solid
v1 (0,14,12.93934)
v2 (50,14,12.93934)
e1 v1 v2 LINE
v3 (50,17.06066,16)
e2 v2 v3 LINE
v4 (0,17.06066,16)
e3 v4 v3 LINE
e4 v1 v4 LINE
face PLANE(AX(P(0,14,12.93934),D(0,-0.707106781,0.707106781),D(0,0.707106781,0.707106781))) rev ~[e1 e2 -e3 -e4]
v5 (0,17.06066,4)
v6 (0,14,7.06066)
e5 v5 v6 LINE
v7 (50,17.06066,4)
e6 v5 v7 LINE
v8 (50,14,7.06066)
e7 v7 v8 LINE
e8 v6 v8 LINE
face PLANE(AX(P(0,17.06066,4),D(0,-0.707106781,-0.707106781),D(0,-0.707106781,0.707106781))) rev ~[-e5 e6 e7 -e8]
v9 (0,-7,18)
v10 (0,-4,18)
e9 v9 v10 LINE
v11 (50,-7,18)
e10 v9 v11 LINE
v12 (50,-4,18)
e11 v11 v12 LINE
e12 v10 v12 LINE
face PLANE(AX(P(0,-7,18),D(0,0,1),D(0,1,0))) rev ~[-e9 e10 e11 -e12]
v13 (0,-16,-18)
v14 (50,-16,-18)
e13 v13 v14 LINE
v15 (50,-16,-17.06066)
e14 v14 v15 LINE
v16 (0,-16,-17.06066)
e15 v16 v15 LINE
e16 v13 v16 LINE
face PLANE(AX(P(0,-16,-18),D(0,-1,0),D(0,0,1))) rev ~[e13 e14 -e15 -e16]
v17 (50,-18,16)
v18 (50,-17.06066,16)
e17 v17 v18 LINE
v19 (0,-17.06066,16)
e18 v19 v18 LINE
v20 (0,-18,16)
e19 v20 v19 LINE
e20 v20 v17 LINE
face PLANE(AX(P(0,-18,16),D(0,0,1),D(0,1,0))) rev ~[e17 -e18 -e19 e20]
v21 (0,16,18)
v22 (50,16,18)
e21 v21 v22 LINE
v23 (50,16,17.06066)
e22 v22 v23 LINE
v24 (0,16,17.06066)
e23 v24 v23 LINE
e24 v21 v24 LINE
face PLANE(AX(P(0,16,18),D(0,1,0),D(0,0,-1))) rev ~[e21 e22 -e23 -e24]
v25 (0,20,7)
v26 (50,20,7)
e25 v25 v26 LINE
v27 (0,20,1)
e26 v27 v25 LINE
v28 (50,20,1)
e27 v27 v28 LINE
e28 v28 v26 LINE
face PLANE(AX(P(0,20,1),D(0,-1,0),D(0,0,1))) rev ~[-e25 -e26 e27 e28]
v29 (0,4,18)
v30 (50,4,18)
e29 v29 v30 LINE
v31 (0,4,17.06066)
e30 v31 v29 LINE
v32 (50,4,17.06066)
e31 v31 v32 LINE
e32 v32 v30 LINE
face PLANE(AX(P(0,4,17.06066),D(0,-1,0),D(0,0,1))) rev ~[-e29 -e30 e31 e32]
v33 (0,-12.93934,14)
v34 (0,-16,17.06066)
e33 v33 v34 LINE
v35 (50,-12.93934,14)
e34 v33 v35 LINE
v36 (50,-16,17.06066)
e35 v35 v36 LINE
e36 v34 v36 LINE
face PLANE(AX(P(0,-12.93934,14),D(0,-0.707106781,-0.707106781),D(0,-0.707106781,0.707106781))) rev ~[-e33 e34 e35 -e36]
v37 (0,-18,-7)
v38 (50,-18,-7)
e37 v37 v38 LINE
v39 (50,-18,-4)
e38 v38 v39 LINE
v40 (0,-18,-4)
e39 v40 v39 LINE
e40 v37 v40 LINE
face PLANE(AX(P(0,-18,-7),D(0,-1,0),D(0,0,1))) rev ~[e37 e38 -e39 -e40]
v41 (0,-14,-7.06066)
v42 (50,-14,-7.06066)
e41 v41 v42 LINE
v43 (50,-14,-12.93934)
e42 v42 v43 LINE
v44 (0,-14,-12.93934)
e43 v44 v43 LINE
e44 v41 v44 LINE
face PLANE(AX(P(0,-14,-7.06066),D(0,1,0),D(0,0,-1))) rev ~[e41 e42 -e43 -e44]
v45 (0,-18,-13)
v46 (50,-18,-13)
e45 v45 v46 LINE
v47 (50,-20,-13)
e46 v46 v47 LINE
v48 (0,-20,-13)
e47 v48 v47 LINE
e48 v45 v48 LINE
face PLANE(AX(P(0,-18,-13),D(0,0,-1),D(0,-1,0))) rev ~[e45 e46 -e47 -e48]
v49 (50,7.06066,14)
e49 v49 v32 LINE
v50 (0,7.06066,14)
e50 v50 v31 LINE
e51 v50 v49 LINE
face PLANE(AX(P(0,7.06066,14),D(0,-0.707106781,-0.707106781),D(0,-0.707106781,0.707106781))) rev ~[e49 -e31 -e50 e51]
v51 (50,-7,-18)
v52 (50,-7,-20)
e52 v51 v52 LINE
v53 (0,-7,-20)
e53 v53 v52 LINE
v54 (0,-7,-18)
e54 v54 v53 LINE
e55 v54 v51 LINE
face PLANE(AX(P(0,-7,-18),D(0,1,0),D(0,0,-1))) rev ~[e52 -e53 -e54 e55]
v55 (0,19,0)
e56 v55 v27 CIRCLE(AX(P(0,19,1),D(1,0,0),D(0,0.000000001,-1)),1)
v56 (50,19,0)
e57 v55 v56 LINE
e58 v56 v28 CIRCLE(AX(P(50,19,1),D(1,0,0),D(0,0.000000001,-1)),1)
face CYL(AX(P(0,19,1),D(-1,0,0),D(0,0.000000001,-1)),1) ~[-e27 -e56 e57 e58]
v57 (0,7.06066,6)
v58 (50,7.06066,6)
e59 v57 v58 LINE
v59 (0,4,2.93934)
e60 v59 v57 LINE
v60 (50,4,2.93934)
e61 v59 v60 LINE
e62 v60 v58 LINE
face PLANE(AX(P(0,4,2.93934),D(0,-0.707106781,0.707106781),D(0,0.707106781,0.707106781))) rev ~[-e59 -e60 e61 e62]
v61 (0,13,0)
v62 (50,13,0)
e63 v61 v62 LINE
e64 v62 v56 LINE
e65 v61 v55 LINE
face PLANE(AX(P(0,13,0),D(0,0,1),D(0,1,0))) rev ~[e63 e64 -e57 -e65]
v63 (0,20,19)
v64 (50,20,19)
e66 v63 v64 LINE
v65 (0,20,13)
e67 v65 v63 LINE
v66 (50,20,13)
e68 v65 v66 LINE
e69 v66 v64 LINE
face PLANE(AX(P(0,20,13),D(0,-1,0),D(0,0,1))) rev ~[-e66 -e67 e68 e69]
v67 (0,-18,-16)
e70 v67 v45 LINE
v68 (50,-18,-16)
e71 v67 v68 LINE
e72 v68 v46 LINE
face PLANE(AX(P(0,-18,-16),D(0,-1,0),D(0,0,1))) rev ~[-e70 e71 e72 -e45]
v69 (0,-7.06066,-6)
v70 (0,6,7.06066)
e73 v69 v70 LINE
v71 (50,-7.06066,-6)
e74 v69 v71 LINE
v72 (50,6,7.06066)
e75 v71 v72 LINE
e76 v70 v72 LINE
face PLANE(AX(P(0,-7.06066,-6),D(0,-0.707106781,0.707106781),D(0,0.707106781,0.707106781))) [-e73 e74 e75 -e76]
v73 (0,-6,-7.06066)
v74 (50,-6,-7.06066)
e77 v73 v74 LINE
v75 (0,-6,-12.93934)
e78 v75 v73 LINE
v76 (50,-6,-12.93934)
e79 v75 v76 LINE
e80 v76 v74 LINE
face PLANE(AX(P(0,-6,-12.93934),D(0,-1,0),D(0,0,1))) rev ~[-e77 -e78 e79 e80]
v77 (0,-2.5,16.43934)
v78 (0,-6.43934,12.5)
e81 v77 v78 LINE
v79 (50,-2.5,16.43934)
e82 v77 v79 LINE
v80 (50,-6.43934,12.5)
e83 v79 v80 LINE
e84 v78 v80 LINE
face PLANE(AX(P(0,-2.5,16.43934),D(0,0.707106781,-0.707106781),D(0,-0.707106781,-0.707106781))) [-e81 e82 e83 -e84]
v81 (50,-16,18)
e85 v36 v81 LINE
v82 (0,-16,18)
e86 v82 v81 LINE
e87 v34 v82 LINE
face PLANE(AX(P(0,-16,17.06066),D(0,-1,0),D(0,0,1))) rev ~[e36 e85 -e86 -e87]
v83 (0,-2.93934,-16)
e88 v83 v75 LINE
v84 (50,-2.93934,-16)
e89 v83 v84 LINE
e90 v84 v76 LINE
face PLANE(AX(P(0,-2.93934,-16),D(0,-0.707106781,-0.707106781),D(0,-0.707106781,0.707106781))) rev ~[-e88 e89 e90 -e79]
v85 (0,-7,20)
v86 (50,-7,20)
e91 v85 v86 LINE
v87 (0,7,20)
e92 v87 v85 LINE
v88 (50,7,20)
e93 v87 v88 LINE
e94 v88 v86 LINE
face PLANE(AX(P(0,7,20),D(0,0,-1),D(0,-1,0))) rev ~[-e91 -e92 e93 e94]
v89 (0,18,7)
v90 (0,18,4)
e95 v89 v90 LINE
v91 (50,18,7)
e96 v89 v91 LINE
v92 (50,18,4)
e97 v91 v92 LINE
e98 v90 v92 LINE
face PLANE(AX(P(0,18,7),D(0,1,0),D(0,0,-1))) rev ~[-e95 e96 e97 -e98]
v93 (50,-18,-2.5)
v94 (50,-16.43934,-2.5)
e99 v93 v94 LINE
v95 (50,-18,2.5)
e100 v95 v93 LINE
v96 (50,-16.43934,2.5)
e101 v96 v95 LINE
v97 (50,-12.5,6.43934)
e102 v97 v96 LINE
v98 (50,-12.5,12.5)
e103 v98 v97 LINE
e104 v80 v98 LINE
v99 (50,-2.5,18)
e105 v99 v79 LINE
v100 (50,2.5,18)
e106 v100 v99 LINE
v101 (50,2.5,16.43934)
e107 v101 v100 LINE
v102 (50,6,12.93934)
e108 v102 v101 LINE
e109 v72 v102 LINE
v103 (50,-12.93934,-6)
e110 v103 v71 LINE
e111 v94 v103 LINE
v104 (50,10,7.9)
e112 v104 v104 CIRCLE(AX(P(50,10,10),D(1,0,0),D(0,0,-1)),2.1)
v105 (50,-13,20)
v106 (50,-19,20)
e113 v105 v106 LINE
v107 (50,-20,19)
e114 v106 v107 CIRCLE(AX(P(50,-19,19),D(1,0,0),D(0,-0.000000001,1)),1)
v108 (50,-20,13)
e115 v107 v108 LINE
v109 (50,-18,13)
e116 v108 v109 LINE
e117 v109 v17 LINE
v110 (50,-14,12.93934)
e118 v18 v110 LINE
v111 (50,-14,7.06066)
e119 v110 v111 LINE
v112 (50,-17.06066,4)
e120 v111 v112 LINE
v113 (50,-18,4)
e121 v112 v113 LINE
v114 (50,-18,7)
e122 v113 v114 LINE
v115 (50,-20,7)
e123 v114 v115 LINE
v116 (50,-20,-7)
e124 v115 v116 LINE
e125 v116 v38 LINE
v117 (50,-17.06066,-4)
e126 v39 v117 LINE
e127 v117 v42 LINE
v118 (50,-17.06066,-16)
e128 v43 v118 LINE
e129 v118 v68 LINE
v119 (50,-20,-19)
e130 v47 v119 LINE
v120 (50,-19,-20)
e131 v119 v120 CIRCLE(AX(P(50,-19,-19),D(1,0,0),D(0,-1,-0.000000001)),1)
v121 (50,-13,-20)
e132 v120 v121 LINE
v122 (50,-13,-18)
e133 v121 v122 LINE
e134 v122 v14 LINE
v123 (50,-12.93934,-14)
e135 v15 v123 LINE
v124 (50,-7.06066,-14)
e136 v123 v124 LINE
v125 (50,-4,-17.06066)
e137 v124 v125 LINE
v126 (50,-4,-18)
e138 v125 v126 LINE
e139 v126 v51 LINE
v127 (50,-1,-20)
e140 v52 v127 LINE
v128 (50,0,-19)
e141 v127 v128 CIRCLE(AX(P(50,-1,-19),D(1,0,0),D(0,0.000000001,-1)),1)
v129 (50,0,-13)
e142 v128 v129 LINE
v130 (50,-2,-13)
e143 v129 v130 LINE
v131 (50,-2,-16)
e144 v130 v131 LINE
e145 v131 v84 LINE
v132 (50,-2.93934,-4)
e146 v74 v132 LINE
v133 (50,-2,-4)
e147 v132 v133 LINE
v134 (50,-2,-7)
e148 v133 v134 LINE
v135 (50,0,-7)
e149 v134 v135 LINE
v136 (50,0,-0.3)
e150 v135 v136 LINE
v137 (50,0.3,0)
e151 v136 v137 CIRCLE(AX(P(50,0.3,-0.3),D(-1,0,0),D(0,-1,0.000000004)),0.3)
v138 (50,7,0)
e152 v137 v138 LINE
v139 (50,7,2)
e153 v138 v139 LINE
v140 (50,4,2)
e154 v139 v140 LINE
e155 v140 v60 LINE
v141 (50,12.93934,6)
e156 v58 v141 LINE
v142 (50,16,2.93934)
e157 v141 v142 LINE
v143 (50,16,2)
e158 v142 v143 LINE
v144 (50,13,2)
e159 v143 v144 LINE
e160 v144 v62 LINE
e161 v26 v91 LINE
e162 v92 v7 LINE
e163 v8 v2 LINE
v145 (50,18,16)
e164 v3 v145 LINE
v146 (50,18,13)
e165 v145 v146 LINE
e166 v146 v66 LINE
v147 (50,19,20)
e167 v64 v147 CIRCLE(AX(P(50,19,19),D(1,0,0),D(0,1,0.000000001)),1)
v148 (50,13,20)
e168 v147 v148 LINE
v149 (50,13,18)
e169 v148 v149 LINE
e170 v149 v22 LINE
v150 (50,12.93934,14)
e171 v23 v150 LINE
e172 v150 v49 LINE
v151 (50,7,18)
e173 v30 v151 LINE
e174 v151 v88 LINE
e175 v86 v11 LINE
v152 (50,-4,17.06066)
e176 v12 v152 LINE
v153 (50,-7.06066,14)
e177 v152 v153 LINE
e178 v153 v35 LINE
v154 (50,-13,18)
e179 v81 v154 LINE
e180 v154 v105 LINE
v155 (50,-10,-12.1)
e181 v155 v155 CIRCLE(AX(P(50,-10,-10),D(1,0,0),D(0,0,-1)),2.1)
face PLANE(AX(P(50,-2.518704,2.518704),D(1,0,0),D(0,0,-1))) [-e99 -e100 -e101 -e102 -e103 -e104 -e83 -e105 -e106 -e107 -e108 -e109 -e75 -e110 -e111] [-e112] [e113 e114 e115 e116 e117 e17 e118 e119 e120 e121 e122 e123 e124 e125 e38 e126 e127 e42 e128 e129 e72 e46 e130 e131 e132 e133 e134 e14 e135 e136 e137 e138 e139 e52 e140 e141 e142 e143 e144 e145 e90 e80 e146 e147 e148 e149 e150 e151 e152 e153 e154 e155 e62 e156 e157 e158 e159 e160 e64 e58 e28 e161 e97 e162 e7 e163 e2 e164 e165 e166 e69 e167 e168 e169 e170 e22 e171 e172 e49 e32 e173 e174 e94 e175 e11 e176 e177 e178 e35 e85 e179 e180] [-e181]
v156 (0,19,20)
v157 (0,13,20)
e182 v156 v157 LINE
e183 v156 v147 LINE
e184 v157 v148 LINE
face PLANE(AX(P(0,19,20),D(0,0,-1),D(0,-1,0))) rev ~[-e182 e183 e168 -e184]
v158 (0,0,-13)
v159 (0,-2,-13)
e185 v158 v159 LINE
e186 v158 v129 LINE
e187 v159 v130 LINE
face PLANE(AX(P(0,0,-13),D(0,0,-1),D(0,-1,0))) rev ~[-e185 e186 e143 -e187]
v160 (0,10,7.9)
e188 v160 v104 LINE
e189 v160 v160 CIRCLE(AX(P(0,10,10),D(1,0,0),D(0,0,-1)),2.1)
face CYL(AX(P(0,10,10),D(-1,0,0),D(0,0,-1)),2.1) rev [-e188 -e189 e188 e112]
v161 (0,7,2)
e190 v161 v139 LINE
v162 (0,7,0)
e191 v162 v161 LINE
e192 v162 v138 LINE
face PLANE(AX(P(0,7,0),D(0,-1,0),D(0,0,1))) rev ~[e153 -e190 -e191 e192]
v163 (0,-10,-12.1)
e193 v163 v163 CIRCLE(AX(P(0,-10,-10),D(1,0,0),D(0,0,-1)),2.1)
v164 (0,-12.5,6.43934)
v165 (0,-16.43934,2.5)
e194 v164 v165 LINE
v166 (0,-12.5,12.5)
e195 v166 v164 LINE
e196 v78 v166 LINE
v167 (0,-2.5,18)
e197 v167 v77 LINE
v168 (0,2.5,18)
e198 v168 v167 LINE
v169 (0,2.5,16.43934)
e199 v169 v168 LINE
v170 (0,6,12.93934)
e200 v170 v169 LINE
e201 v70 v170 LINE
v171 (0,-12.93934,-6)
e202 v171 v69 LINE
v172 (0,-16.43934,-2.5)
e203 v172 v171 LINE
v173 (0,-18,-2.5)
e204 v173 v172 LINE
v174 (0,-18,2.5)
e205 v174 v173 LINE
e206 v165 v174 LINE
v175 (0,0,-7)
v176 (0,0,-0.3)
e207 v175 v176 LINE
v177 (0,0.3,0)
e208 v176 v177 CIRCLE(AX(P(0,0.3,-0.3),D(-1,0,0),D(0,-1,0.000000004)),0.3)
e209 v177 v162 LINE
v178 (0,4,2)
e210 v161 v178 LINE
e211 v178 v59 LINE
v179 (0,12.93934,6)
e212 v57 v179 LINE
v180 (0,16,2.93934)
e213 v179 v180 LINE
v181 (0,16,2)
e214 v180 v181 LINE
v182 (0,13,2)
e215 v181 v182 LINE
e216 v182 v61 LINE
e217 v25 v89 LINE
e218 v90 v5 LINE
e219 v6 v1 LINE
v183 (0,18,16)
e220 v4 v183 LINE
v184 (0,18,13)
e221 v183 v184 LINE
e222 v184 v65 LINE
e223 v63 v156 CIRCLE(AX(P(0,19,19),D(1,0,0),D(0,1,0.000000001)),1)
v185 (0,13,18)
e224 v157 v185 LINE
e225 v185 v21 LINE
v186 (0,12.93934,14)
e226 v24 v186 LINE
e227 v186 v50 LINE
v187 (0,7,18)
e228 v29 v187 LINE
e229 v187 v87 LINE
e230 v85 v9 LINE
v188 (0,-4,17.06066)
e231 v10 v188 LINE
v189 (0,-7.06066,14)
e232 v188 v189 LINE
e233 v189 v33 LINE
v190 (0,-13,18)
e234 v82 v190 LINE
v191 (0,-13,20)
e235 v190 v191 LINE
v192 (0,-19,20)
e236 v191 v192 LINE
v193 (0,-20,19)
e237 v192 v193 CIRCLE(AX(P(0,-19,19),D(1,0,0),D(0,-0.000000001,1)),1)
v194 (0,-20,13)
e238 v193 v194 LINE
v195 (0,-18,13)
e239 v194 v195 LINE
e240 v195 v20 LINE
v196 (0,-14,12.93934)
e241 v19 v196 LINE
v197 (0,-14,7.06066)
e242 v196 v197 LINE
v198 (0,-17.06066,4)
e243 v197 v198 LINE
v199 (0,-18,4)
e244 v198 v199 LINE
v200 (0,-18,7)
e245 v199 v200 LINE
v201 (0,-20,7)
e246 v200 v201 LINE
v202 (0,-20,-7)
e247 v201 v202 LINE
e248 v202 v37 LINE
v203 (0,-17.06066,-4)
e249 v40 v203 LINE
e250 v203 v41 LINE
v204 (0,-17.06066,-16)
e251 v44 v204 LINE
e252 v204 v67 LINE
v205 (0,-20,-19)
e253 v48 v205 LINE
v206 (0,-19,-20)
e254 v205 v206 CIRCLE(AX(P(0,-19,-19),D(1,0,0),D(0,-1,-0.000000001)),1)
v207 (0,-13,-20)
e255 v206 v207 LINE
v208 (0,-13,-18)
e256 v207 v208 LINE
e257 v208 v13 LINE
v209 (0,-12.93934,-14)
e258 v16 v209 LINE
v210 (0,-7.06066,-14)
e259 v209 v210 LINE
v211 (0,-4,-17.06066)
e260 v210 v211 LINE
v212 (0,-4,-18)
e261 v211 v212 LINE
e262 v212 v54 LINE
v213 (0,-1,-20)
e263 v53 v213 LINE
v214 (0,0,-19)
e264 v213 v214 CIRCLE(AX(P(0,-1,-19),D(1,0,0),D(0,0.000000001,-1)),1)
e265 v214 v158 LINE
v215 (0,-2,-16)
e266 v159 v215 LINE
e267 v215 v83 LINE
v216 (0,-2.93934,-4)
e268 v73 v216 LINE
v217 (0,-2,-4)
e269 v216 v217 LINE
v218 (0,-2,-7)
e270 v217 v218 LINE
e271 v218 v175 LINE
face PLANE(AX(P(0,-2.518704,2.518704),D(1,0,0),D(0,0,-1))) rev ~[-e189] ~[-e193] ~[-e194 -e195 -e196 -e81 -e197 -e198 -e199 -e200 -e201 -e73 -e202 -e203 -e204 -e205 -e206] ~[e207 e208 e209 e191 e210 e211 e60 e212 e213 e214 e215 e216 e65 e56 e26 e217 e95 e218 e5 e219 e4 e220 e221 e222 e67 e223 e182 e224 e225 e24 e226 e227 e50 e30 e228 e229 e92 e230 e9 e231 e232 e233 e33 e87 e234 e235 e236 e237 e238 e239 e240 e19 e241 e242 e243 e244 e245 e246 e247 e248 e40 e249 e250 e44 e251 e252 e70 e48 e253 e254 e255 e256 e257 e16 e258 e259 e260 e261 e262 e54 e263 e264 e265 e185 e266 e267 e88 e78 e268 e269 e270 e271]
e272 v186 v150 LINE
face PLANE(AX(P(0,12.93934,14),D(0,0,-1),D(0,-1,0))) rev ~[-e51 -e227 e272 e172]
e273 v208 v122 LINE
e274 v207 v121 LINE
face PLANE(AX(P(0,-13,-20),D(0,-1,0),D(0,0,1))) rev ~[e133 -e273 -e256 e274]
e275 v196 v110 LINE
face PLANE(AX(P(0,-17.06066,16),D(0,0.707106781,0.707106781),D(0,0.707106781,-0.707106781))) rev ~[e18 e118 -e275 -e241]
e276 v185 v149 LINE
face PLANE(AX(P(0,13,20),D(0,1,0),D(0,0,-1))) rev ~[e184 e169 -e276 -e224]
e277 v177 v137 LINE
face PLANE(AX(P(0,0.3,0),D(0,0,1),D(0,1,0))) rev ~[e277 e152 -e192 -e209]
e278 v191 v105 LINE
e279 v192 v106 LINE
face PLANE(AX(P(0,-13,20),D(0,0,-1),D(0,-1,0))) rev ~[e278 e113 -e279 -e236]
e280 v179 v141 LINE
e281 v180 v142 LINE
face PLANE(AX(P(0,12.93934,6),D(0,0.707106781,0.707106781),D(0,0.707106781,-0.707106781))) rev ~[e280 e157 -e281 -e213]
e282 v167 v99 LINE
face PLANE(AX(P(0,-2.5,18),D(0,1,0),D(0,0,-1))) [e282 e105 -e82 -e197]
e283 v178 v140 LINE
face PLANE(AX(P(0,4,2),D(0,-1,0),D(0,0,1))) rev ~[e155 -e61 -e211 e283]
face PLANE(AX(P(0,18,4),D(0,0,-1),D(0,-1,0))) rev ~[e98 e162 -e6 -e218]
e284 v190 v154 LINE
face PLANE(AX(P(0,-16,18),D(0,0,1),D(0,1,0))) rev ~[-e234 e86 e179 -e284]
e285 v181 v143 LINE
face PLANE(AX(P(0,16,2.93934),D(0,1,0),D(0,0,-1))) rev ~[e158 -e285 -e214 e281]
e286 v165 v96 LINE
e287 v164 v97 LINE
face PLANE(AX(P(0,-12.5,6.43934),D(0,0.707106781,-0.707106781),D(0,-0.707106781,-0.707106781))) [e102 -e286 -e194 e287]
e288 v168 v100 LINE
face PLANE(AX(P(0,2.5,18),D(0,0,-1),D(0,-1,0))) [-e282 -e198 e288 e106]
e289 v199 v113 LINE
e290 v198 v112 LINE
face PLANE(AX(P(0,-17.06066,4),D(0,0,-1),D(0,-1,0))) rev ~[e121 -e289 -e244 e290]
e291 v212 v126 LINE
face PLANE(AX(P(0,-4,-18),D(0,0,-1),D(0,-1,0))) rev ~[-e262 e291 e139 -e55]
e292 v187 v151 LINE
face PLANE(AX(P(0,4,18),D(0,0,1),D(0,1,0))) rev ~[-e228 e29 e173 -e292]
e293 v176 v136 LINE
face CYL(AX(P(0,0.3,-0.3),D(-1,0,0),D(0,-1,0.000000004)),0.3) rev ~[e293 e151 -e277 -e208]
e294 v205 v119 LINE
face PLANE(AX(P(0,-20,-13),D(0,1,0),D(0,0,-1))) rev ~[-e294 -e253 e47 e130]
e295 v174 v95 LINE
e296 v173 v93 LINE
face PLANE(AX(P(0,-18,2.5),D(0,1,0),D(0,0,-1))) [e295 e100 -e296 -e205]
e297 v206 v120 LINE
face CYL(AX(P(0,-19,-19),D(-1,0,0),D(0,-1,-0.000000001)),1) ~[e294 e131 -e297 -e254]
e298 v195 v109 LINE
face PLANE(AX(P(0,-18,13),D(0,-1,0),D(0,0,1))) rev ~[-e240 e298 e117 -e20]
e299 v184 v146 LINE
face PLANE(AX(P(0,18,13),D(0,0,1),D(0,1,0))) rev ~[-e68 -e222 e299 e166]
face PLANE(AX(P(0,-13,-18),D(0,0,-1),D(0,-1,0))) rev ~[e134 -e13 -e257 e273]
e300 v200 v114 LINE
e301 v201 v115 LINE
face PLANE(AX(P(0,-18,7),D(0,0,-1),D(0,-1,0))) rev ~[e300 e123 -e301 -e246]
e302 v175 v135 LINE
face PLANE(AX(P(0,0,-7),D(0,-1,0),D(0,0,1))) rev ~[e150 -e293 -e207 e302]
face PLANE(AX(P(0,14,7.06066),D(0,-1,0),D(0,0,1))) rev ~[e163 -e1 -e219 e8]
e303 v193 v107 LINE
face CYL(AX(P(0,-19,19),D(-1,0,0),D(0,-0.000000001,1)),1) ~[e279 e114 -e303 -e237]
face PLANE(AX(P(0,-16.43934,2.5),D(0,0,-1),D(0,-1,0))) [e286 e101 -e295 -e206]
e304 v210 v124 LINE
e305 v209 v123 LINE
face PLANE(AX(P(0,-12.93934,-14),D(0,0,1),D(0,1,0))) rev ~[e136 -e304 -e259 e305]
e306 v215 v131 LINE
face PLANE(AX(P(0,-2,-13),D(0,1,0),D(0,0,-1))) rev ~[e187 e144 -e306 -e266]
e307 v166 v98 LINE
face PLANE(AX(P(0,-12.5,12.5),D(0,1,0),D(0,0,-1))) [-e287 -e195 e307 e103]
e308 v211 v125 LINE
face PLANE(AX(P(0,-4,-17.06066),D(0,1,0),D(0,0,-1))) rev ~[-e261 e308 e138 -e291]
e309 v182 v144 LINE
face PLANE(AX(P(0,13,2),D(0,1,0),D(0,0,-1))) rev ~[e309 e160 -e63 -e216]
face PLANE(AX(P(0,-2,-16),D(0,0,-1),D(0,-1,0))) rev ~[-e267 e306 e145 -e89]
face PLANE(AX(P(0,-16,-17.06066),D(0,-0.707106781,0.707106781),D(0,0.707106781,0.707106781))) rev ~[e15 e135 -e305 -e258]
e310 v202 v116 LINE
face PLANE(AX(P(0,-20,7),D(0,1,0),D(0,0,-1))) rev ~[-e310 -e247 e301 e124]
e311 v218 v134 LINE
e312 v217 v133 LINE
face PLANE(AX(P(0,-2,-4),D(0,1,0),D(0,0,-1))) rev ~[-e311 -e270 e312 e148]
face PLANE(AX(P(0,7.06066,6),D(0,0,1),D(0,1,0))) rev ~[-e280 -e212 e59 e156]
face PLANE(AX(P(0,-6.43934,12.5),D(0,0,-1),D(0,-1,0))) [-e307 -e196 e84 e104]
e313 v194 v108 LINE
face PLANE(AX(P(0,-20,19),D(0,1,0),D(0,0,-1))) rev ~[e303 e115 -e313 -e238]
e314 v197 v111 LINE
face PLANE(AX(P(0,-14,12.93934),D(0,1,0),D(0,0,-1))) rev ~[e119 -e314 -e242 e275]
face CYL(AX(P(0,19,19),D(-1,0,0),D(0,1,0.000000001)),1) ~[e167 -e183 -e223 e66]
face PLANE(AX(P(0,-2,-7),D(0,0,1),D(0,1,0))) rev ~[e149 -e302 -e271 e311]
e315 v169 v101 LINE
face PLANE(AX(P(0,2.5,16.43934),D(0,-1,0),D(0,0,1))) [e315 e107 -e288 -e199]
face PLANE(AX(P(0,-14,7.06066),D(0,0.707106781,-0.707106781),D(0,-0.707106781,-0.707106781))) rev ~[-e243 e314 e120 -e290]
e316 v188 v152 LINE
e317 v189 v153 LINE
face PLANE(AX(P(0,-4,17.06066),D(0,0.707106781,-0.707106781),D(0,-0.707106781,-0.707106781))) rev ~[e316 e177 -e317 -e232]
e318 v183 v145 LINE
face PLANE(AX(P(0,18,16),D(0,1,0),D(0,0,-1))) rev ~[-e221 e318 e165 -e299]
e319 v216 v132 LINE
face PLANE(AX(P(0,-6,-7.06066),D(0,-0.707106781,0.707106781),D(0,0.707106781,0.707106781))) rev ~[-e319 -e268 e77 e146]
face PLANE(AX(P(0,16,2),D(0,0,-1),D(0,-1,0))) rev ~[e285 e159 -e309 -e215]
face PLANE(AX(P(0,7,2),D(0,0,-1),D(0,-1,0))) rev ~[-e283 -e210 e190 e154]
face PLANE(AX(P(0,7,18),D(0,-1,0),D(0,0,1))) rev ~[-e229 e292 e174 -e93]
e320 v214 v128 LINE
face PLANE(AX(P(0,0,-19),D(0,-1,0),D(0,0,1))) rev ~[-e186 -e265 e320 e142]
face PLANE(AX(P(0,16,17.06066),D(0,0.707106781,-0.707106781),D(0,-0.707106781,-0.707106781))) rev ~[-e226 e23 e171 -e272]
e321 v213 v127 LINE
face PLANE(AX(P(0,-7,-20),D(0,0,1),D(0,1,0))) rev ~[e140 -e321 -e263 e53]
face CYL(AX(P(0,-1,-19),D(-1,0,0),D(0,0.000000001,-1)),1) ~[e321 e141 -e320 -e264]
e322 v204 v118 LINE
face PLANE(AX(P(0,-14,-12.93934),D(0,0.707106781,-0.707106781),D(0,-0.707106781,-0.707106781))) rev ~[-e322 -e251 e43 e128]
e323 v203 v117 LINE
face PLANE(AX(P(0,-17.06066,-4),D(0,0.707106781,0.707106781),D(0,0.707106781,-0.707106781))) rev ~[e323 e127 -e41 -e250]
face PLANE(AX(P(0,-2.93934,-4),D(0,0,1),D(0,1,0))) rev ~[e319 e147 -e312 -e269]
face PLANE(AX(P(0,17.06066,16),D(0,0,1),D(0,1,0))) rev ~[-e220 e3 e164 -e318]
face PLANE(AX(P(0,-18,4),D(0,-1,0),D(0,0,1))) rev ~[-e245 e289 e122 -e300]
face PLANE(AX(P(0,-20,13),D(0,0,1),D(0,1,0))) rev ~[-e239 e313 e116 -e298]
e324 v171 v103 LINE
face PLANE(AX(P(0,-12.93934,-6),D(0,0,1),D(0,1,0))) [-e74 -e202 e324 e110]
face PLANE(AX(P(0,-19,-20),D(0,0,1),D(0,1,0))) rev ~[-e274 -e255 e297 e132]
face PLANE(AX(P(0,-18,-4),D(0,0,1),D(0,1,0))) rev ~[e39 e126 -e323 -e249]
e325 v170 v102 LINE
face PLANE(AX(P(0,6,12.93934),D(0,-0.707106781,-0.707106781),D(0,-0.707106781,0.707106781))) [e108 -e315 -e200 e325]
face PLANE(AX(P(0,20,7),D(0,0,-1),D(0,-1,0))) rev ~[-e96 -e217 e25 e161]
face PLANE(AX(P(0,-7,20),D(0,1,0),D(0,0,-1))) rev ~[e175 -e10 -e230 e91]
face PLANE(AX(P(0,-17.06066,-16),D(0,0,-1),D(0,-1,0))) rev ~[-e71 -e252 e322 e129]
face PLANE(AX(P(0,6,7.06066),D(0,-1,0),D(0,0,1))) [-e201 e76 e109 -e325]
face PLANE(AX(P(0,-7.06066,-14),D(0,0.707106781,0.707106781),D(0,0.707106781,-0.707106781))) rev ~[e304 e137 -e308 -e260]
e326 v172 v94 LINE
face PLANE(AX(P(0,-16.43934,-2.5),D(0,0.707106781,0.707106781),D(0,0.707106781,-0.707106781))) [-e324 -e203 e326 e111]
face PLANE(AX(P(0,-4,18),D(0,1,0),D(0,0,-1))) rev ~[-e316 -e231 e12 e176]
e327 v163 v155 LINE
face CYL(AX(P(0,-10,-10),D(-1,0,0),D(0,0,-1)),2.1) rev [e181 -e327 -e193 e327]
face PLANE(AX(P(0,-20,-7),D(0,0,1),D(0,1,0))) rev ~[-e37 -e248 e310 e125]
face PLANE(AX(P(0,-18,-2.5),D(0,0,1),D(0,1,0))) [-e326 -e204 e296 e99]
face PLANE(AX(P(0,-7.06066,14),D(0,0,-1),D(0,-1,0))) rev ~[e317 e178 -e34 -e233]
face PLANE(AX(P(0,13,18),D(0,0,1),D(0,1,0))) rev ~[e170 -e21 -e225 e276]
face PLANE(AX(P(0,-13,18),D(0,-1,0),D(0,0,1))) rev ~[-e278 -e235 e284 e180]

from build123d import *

# Parameters (mm, degrees)
SKETCH1_R           = 2.1
BOSS_EXTRUDE1_DEPTH = 50


with BuildPart() as part:
    # Sketch1 → Boss-Extrude1 (new body)
    with BuildSketch(Plane(origin=(0, 0, 0), x_dir=(0, 0, -1), z_dir=(1, 0, 0))):
        with BuildLine():
            Line((-13, 18), (-13, 20))
            Line((-13, 20), (-19, 20))
            ThreePointArc((-19, 20), (-19.707106781, 19.707106781), (-20, 19))
            Line((-20, 19), (-20, 13))
            Line((-20, 13), (-18, 13))
            Line((-18, 13), (-18, 16))
            Line((-18, 16), (-17.060660172, 16))
            Line((-17.060660172, 16), (-14, 12.939339828))
            Line((-14, 12.939339828), (-14, 7.060660172))
            Line((-14, 7.060660172), (-17.060660172, 4))
            Line((-17.060660172, 4), (-18, 4))
            Line((-18, 4), (-18, 7))
            Line((-18, 7), (-20, 7))
            Line((-20, 7), (-20, -7))
            Line((-20, -7), (-18, -7))
            Line((-18, -7), (-18, -4))
            Line((-18, -4), (-17.060660172, -4))
            Line((-17.060660172, -4), (-14, -7.060660172))
            Line((-14, -7.060660172), (-14, -12.939339828))
            Line((-14, -12.939339828), (-17.060660172, -16))
            Line((-17.060660172, -16), (-18, -16))
            Line((-18, -16), (-18, -13))
            Line((-18, -13), (-20, -13))
            Line((-20, -13), (-20, -19))
            ThreePointArc((-20, -19), (-19.707106781, -19.707106781), (-19, -20))
            Line((-19, -20), (-13, -20))
            Line((-13, -20), (-13, -18))
            Line((-13, -18), (-16, -18))
            Line((-16, -18), (-16, -17.060660172))
            Line((-16, -17.060660172), (-12.939339828, -14))
            Line((-12.939339828, -14), (-7.060660172, -14))
            Line((-7.060660172, -14), (-4, -17.060660172))
            Line((-4, -17.060660172), (-4, -18))
            Line((-4, -18), (-7, -18))
            Line((-7, -18), (-7, -20))
            Line((-7, -20), (7, -20))
            Line((7, -20), (7, -18))
            Line((7, -18), (4, -18))
            Line((4, -18), (4, -17.060660172))
            Line((4, -17.060660172), (7.060660172, -14))
            Line((7.060660172, -14), (12.939339828, -14))
            Line((12.939339828, -14), (16, -17.060660172))
            Line((16, -17.060660172), (16, -18))
            Line((16, -18), (13, -18))
            Line((13, -18), (13, -20))
            Line((13, -20), (19, -20))
            ThreePointArc((19, -20), (19.707106781, -19.707106781), (20, -19))
            Line((20, -19), (20, -13))
            Line((20, -13), (18, -13))
            Line((18, -13), (18, -16))
            Line((18, -16), (17.060660172, -16))
            Line((17.060660172, -16), (14, -12.939339828))
            Line((14, -12.939339828), (14, -7.060660172))
            Line((14, -7.060660172), (17.060660172, -4))
            Line((17.060660172, -4), (18, -4))
            Line((18, -4), (18, -7))
            Line((18, -7), (20, -7))
            Line((20, -7), (20, -1))
            ThreePointArc((20, -1), (19.707106781, -0.292893219), (19, 0))
            Line((19, 0), (13, 0))
            Line((13, 0), (13, -2))
            Line((13, -2), (16, -2))
            Line((16, -2), (16, -2.939339828))
            Line((16, -2.939339828), (12.939339828, -6))
            Line((12.939339828, -6), (7.060660172, -6))
            Line((7.060660172, -6), (4, -2.939339828))
            Line((4, -2.939339828), (4, -2))
            Line((4, -2), (7, -2))
            Line((7, -2), (7, 0))
            Line((7, 0), (0.3, 0))
            ThreePointArc((0.3, 0), (0.087867966, 0.087867966), (0, 0.3))
            Line((0, 0.3), (0, 7))
            Line((0, 7), (-2, 7))
            Line((-2, 7), (-2, 4))
            Line((-2, 4), (-2.939339828, 4))
            Line((-2.939339828, 4), (-6, 7.060660172))
            Line((-6, 7.060660172), (-6, 12.939339828))
            Line((-6, 12.939339828), (-2.939339828, 16))
            Line((-2.939339828, 16), (-2, 16))
            Line((-2, 16), (-2, 13))
            Line((-2, 13), (0, 13))
            Line((0, 13), (0, 19))
            ThreePointArc((0, 19), (-0.292893219, 19.707106781), (-1, 20))
            Line((-1, 20), (-7, 20))
            Line((-7, 20), (-7, 18))
            Line((-7, 18), (-4, 18))
            Line((-4, 18), (-4, 17.060660172))
            Line((-4, 17.060660172), (-7.060660172, 14))
            Line((-7.060660172, 14), (-12.939339828, 14))
            Line((-12.939339828, 14), (-16, 17.060660172))
            Line((-16, 17.060660172), (-16, 18))
            Line((-16, 18), (-13, 18))
        make_face()
        with Locations((10, -10)):
            Circle(SKETCH1_R, mode=Mode.SUBTRACT)
        with Locations((-10, 10)):
            Circle(SKETCH1_R, mode=Mode.SUBTRACT)
        Polygon((6, -7.060660172), (-7.060660172, 6), (-12.939339828, 6), (-16.439339828, 2.5), (-18, 2.5), (-18, -2.5), (-16.439339828, -2.5), (-12.5, -6.439339828), (-12.5, -12.5), (-6.439339828, -12.5), (-2.5, -16.439339828), (-2.5, -18), (2.5, -18), (2.5, -16.439339828), (6, -12.939339828), align=None, mode=Mode.SUBTRACT)
    extrude(amount=BOSS_EXTRUDE1_DEPTH)


solid = part.part
